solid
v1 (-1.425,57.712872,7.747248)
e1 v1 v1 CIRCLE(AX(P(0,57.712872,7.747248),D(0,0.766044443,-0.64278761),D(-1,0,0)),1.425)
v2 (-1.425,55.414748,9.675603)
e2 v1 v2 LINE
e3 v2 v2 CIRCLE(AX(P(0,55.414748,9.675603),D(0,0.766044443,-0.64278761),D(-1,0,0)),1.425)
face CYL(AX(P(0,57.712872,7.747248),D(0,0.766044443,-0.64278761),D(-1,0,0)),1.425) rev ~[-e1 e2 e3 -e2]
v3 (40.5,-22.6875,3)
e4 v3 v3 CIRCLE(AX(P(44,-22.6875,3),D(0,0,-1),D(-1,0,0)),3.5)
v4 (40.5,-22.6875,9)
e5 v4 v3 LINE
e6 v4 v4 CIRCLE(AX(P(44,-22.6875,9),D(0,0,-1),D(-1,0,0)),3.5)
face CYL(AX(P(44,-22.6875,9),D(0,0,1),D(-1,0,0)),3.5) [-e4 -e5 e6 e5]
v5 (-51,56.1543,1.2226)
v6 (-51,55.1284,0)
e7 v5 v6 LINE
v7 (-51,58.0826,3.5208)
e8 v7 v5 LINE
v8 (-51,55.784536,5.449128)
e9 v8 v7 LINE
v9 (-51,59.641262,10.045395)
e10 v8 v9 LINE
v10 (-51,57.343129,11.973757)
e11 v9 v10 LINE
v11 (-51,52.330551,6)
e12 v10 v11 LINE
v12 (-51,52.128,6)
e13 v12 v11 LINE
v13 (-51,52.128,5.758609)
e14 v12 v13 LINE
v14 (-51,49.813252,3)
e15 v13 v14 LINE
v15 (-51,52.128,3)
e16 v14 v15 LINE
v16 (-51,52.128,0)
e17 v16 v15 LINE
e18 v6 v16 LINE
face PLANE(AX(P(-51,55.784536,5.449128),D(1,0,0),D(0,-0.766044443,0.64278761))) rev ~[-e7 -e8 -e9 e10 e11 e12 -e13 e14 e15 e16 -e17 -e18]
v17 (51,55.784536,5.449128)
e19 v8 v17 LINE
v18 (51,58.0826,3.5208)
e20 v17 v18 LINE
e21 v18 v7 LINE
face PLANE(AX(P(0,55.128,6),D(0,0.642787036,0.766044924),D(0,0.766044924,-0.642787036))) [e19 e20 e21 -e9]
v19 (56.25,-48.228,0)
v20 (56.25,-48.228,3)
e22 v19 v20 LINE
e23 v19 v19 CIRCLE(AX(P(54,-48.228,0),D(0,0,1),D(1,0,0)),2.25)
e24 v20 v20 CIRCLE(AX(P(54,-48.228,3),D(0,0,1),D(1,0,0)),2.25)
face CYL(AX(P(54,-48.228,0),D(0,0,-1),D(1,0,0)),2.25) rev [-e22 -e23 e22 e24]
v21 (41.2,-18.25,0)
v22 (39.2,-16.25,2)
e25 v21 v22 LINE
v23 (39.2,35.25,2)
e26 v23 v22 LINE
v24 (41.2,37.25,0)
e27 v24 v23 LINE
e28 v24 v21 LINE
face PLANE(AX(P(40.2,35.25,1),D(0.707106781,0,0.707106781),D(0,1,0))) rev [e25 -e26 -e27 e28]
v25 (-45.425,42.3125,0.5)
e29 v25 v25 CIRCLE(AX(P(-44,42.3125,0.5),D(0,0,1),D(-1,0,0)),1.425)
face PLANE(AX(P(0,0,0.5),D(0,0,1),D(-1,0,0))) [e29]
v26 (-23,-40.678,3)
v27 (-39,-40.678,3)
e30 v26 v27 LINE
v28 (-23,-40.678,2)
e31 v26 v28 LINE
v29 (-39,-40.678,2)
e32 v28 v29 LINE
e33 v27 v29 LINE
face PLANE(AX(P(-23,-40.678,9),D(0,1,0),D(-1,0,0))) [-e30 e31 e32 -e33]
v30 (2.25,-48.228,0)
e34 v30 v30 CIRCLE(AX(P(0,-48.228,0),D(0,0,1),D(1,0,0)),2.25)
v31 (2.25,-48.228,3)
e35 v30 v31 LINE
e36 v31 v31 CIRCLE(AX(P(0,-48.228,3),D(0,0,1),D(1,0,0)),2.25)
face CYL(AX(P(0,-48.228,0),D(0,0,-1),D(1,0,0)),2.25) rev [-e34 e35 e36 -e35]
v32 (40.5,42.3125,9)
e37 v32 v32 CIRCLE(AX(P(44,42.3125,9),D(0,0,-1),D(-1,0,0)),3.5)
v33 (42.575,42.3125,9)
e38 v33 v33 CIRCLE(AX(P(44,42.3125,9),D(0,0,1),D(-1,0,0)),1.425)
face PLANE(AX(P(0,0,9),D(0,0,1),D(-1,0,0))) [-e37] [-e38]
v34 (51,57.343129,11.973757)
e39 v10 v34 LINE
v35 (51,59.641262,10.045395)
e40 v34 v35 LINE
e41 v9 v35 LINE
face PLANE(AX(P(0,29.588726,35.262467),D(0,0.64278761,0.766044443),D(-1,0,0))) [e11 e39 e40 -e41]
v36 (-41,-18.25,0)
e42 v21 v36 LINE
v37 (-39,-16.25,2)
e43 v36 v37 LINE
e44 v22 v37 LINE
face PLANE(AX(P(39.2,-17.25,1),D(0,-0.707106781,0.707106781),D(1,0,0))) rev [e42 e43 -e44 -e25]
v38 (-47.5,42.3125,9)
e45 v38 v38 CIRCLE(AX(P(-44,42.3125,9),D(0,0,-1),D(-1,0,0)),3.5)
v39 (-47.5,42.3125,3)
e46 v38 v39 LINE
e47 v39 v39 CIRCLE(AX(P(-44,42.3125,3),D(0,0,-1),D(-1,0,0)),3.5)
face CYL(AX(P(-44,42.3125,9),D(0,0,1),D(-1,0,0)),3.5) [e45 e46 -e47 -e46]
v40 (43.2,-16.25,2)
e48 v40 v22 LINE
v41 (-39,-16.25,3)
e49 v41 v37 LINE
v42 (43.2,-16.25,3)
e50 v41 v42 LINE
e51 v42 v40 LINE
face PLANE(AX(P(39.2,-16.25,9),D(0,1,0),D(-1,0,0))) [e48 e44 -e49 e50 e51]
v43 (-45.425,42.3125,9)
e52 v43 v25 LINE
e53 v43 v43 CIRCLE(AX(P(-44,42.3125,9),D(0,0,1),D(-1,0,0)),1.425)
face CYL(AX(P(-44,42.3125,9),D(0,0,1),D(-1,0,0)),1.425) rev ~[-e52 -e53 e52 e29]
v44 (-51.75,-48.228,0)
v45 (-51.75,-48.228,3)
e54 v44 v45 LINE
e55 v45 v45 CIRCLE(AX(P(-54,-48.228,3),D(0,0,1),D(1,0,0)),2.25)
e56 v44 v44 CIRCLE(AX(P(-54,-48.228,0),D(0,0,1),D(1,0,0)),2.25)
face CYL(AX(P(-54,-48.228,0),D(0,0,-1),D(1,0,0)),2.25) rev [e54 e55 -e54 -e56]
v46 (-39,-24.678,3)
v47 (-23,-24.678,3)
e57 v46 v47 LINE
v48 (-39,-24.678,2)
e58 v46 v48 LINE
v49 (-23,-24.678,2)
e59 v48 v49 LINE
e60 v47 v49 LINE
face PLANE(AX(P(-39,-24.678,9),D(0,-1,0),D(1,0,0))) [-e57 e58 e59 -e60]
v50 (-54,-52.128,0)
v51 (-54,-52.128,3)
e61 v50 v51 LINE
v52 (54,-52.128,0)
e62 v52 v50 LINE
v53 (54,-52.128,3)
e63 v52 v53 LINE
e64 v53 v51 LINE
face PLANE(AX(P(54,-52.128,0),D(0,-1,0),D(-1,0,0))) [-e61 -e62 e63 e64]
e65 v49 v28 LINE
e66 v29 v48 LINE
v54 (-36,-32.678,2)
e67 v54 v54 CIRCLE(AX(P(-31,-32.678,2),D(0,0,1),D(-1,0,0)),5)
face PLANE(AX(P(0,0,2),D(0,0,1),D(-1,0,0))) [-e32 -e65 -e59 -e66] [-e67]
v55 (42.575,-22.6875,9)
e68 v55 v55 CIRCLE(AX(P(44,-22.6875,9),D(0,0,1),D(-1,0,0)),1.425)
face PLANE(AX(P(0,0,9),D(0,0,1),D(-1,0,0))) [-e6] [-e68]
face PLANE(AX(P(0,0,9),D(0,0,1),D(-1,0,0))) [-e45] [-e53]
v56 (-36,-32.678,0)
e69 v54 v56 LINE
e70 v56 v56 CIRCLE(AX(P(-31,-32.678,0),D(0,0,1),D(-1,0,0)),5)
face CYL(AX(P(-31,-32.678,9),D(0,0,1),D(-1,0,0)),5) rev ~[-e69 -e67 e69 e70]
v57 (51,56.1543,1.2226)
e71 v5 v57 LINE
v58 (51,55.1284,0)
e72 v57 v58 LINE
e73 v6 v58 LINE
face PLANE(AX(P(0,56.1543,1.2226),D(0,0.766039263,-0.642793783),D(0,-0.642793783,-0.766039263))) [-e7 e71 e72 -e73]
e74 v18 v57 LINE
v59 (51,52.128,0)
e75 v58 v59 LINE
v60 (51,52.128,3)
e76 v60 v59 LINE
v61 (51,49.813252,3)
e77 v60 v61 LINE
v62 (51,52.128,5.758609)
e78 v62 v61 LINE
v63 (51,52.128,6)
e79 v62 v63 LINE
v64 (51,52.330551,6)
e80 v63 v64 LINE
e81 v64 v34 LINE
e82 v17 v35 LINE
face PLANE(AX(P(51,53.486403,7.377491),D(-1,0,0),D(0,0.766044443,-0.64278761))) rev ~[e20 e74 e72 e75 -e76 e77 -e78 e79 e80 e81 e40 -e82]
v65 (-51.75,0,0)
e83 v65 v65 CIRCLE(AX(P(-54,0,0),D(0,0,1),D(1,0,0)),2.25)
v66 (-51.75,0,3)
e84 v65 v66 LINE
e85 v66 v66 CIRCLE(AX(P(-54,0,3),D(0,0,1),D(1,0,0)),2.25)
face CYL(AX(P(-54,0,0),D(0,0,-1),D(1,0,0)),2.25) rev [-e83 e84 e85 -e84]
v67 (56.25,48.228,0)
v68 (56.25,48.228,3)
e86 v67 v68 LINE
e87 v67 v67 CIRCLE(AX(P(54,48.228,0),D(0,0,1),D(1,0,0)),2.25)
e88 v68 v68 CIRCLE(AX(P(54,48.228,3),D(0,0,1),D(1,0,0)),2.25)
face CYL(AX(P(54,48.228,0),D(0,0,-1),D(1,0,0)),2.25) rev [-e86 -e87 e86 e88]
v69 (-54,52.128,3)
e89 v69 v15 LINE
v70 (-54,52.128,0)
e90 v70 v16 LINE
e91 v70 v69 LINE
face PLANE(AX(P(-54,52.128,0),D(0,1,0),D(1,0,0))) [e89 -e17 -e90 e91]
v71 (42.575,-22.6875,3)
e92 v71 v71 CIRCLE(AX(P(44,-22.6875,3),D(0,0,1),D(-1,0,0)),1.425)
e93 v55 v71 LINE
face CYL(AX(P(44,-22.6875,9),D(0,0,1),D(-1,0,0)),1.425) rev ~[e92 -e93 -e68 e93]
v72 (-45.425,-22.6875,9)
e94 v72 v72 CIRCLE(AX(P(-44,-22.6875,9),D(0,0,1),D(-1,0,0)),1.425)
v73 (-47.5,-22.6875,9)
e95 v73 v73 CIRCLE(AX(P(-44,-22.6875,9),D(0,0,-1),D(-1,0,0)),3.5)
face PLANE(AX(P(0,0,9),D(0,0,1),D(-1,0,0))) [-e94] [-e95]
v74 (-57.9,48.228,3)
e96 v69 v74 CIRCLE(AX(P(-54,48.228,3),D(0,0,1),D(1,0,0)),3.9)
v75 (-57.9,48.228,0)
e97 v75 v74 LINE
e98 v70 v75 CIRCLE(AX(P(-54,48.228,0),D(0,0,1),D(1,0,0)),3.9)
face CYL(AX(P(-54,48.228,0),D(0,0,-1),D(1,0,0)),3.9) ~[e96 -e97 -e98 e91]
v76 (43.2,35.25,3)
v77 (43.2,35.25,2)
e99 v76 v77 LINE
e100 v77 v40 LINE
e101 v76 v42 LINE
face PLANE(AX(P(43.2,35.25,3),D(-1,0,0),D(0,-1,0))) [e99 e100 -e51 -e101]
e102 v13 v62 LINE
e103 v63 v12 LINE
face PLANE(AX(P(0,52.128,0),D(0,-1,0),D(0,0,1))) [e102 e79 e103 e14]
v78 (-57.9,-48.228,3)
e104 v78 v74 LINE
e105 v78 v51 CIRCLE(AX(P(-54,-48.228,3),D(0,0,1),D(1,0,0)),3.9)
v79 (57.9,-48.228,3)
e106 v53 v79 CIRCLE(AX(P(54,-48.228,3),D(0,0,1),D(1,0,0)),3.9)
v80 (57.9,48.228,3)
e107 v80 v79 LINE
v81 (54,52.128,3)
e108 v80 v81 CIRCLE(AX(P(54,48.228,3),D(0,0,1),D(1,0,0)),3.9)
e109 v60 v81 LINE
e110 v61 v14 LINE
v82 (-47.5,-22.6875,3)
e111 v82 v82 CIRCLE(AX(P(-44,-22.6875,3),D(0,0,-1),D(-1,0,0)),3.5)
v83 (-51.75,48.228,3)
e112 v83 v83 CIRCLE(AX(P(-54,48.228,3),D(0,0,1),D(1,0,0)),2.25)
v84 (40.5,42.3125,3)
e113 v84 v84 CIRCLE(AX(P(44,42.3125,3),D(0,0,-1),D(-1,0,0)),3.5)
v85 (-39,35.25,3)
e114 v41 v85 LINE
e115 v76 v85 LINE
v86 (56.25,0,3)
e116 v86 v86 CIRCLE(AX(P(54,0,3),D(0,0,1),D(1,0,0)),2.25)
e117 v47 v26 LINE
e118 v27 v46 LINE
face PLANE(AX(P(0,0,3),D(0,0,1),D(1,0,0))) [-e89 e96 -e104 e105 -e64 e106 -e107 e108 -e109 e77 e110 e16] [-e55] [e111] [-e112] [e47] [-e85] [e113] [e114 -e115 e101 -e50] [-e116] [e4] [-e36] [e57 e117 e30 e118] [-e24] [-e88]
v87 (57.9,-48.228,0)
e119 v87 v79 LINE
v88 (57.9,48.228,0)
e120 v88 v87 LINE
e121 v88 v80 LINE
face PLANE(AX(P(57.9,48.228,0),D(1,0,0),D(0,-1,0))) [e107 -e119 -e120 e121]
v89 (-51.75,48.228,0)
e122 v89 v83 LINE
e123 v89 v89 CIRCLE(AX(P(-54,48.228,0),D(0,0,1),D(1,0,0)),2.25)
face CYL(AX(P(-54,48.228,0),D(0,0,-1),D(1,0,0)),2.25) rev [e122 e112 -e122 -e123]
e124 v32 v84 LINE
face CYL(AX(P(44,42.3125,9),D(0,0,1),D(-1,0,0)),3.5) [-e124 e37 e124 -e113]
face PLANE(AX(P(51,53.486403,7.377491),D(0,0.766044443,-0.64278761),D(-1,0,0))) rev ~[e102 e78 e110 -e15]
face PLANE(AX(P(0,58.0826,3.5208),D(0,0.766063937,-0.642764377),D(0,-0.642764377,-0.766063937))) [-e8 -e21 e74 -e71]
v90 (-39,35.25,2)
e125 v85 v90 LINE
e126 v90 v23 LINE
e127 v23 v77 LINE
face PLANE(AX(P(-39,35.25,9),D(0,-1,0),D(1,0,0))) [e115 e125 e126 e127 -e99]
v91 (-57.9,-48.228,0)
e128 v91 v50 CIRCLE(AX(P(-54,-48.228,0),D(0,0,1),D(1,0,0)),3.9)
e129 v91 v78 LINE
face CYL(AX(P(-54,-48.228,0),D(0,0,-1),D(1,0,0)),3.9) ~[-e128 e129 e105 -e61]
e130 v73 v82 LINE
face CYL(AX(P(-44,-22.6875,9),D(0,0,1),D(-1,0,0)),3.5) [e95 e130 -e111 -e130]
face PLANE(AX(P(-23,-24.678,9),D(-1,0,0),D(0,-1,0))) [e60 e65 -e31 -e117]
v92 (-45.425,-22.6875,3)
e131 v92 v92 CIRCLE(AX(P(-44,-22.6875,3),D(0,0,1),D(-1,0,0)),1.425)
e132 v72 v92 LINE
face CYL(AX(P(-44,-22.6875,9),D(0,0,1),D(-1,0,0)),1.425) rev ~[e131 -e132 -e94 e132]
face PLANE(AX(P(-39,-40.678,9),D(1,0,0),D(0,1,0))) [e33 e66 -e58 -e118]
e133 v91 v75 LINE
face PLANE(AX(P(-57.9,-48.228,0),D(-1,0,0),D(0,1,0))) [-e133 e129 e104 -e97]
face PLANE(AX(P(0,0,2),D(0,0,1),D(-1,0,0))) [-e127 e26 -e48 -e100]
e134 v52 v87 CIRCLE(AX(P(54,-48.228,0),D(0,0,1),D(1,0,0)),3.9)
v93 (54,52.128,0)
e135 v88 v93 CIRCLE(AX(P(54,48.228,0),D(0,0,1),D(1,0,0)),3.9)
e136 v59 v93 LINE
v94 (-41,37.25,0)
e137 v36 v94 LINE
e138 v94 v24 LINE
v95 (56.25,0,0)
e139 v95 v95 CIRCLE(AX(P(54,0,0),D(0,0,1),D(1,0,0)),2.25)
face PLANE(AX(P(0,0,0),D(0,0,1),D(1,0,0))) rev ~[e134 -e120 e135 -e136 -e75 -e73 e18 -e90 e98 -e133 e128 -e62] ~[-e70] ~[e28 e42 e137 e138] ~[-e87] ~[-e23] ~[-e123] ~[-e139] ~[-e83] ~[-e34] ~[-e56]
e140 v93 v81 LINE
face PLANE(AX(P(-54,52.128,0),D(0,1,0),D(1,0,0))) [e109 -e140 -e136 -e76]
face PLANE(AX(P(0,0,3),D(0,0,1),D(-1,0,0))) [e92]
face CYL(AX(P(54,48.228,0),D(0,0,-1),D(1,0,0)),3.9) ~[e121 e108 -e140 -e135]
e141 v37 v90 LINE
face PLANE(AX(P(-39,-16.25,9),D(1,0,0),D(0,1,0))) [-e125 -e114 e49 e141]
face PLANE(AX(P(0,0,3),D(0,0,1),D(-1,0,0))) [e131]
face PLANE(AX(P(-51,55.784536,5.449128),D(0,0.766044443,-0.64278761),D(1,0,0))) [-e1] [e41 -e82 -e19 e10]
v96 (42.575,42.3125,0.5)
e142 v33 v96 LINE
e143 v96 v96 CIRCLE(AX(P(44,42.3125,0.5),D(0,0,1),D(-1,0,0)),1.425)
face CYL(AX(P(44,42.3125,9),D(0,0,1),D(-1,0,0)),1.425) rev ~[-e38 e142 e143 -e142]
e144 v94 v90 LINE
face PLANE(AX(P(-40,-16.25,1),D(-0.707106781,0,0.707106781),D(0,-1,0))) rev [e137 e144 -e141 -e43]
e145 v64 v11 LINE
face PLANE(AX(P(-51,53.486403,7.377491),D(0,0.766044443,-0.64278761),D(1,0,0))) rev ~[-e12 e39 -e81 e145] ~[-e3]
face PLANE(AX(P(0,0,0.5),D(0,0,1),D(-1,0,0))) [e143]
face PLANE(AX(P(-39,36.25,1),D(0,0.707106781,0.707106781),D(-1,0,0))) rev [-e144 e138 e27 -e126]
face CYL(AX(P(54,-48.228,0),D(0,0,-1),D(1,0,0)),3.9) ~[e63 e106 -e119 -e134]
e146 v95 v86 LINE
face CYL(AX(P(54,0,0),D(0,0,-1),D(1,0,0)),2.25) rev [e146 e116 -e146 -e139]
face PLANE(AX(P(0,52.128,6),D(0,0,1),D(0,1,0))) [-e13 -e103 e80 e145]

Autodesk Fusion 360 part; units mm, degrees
sketch "Sketch1" plane through (0, 0, 0) normal (0, 0, 1) x (1, 0, 0)
  line L0 (-57.9, 52.128) -> (57.9, 52.128)
  line L1 (57.9, 52.128) -> (57.9, -52.128)
  line L2 (57.9, -52.128) -> (-57.9, -52.128)
  line L3 (-57.9, -52.128) -> (-57.9, 52.128)
  circle A0 centre (-54, 48.228) radius 3.9
  circle A1 centre (-54, 0) radius 2.25
  circle A2 centre (-54, -48.228) radius 3.9
  circle A3 centre (0, -48.228) radius 2.25
  circle A4 centre (54, -48.228) radius 3.9
  circle A5 centre (54, 0) radius 2.25
  circle A6 centre (54, 48.228) radius 3.9
  circle A7 centre (-54, 48.228) radius 2.25
  circle A8 centre (-54, -48.228) radius 2.25
  circle A9 centre (54, -48.228) radius 2.25
  circle A10 centre (54, 48.228) radius 2.25
  point P0 (0, 52.128)
  point P1 (-57.9, 0)
  dimension "d1" = 115.8
  dimension "d2" = 104.256
  dimension "d3" = 7.8
  dimension "d4" = 7.8
  dimension "d5" = 7.8
  dimension "d6" = 7.8
  dimension "d7" = 4.5
  dimension "d8" = 4.5
  dimension "d9" = 4.5
  dimension "d10" = 4.5
  dimension "d11" = 4.5
  dimension "d12" = 4.5
  dimension "d13" = 4.5
  dimension "d14" = 48.128
  dimension "d15" = 96.256
  dimension "d16" = 53.9
  dimension "d17" = 107.8
extrude "Extrude1" add sketch "Sketch1" along normal blind 3 contours L0 L1 L2 L3 A0 A2 A4 A6 | A0 | A6 | A2 | A4
sketch "Sketch2" plane through (0, 0, 0) normal (1, 0, 0) x (0, 1, 0)
  line L0 (-2.25, 3) -> (2.25, 3)
  line L1 (-50.478, 3) -> (-45.978, 3)
  line L2 (-2.25, 3) -> (2.25, 3)
  line L3 (45.978, 3) -> (50.478, 3)
  line L4 (-50.478, 3) -> (-45.978, 3)
  line L5 (45.978, 3) -> (50.478, 3)
  line L6 (-50.478, 3) -> (-45.978, 3)
  line L7 (-48.228, 3) -> (-52.128, 3)
  line L8 (-48.228, 3) -> (48.228, 3)
  line L9 (52.128, 3) -> (48.228, 3)
  line L10 (52.128, 3) -> (48.228, 3)
  line L11 (48.228, 3) -> (-48.228, 3)
  line L12 (-48.228, 3) -> (-52.128, 3)
  line L13 (52.128, 0) -> (52.128, 3)
  line L14 (52.128, 3) -> (52.128, 0)
  line L15 (-2.25, 0) -> (2.25, 0)
  line L16 (-50.478, 0) -> (-45.978, 0)
  line L17 (-2.25, 0) -> (2.25, 0)
  line L18 (45.978, 0) -> (50.478, 0)
  line L19 (-50.478, 0) -> (-45.978, 0)
  line L20 (45.978, 0) -> (50.478, 0)
  line L21 (-50.478, 0) -> (-45.978, 0)
  line L22 (-48.228, 0) -> (-52.128, 0)
  line L23 (-48.228, 0) -> (-52.128, 0)
  line L24 (-48.228, 0) -> (48.228, 0)
  line L25 (52.128, 0) -> (48.228, 0)
  line L26 (52.128, 0) -> (48.228, 0)
  line L27 (48.228, 0) -> (-48.228, 0)
  line L28 (52.128, 3) -> (52.128, 6)
  line L29 (52.128, 6) -> (55.128, 6)
  line L30 (55.128, 6) -> (58.0826, 3.5208)
  line L31 (58.0826, 3.5208) -> (56.1543, 1.2226)
  line L32 (56.1543, 1.2226) -> (62.2826, -3.9197)
  line L33 (62.2826, -3.9197) -> (61.2567, -5.1423)
  line L34 (61.2567, -5.1423) -> (55.1284, 0)
  line L35 (56.1543, 1.2226) -> (55.1284, 0)
  line L36 (55.1284, 0) -> (52.128, 0)
  dimension "d20" = 3
  dimension "d21" = 3
  dimension "d22" = 140
  dimension "d24" = 3.857
  dimension "d26" = 3
  dimension "d27" = 8
  dimension "d28" = 1.596
extrude "Extrude2" add sketch "Sketch2" along normal mid plane 102 contours L13 L14 L28 L29 L30 L31 L35 L36
sketch "Sketch1 (2)" plane through (0, 25.732, 30.6662) normal (0, 0.642788, 0.766044) x (-1, 0, 0)
  line L0 (51, -38.3738) -> (-51, -38.3738)
  line L1 (-51, -38.3738) -> (-51, -42.2308)
  line L2 (-51, -42.2308) -> (51, -42.2308)
  line L3 (51, -42.2308) -> (51, -38.3738)
  line L4 (51, -39.2308) -> (-51, -39.2308)
  line L5 (-51, -39.2308) -> (-51, -36.2308)
  line L6 (-51, -36.2308) -> (51, -36.2308)
  line L7 (51, -36.2308) -> (51, -39.2308)
  dimension "d67" = 3
  dimension "d68" = 3
extrude "Extrude4" add sketch "Sketch1 (2)" against normal blind 7 contours L0 L1 L3 L4 L5 L7 | L0 L5 L6 L7
sketch "Sketch2 (2)" plane through (0, 25.732, 30.6662) normal (0, 0.642788, 0.766044) x (-1, 0, 0)
  line L0 (-51, -36.2308) -> (-51, -42.2308)
  line L1 (-51, -42.2308) -> (51, -42.2308)
  line L2 (51, -42.2308) -> (51, -36.2308)
  line L3 (51, -36.2308) -> (-51, -36.2308)
  line L4 (51, -39.2308) -> (-51, -39.2308)
  line L5 (-51, -39.2308) -> (-51, -36.2308)
  line L6 (-51, -36.2308) -> (51, -36.2308)
  line L7 (51, -36.2308) -> (51, -39.2308)
  dimension "d71" = 3
extrude "Extrude5" add sketch "Sketch2 (2)" along normal blind 6 contours L0 L2 L3 L4 L5 L6 L7
sketch "Sketch3" plane through (0, 30.0525, -25.2171) normal (0, 0.766044, -0.642788) x (-1, 0, 0)
  line L0 (-51, 40.0319) -> (51, 40.0319)
  line L1 (51, 40.0319) -> (51, 46.0319)
  line L2 (51, 46.0319) -> (-51, 46.0319)
  line L3 (-51, 46.0319) -> (-51, 40.0319)
  circle A0 centre (0, 43.0319) radius 1.425
  dimension "d74" = 2.85
  dimension "d75" = 3
extrude "Extrude6" cut sketch "Sketch3" against normal blind 4 contours A0
sketch "Sketch5" plane through (0, 0, 3) normal (0, 0, 1) x (-1, 0, 0)
  line L0 (-51, -52.128) -> (-51, -49.8132)
  line L1 (-51, -49.8132) -> (51, -49.8132)
  line L2 (51, -49.8132) -> (51, -52.128)
  line L3 (51, -52.128) -> (54, -52.128)
  arc A0 (54, -52.128) -> (57.9, -48.228) centre (54, -48.228) ccw
  line L4 (57.9, -48.228) -> (57.9, 48.228)
  arc A1 (57.9, 48.228) -> (54, 52.128) centre (54, 48.228) ccw
  line L5 (54, 52.128) -> (-54, 52.128)
  arc A2 (-54, 52.128) -> (-57.9, 48.228) centre (-54, 48.228) ccw
  line L6 (-57.9, 48.228) -> (-57.9, -48.228)
  arc A3 (-57.9, -48.228) -> (-54, -52.128) centre (-54, -48.228) ccw
  line L7 (-54, -52.128) -> (-51, -52.128)
  circle A4 centre (-54, 48.228) radius 2.25
  circle A5 centre (-54, -48.228) radius 2.25
  circle A6 centre (54, 48.228) radius 2.25
  circle A7 centre (54, -48.228) radius 2.25
  circle A8 centre (54, 0) radius 2.25
  circle A9 centre (0, 48.228) radius 2.25
  circle A10 centre (-54, 0) radius 2.25
  line L8 (49.9, -44.128) -> (-49.9, -44.128)
  line L9 (-49.9, -44.128) -> (-49.9, 44.128)
  line L10 (-49.9, 44.128) -> (49.9, 44.128)
  line L11 (49.9, 44.128) -> (49.9, -44.128)
  dimension "d84" = 8
  dimension "d85" = 8
  dimension "d86" = 8
  dimension "d87" = 8
extrude "Extrude7" add sketch "Sketch5" along normal blind 6 contours L8 L9 L10 L11
fillet "Fillet1" radius 3 4 edges at (-49.9, -44.128, 6) (-49.9, 44.128, 6) (49.9, -44.128, 6) (49.9, 44.128, 6)
sketch "Sketch4" plane through (0, 0, 9) normal (0, 0, 1) x (-1, 0, 0)
  line L0 (-51, -52.128) -> (-51, -49.8132)
  line L1 (-51, -49.8132) -> (51, -49.8132)
  line L2 (51, -49.8132) -> (51, -52.128)
  line L3 (51, -52.128) -> (54, -52.128)
  arc A0 (54, -52.128) -> (57.9, -48.228) centre (54, -48.228) ccw
  line L4 (57.9, -48.228) -> (57.9, 48.228)
  arc A1 (57.9, 48.228) -> (54, 52.128) centre (54, 48.228) ccw
  line L5 (54, 52.128) -> (-54, 52.128)
  arc A2 (-54, 52.128) -> (-57.9, 48.228) centre (-54, 48.228) ccw
  line L6 (-57.9, 48.228) -> (-57.9, -48.228)
  arc A3 (-57.9, -48.228) -> (-54, -52.128) centre (-54, -48.228) ccw
  line L7 (-54, -52.128) -> (-51, -52.128)
  circle A4 centre (-54, 48.228) radius 2.25
  circle A5 centre (-54, -48.228) radius 2.25
  circle A6 centre (54, 48.228) radius 2.25
  circle A7 centre (54, -48.228) radius 2.25
  circle A8 centre (54, 0) radius 2.25
  circle A9 centre (0, 48.228) radius 2.25
  circle A10 centre (-54, 0) radius 2.25
  line L8 (0, -78.513) -> (0, 73.0042) construction
  line L9 (78.1431, -3) -> (75.8671, -3)
  line L10 (75.8671, -3) -> (-80.0089, -3) construction
  line L11 (47.5, -50.3125) -> (-47.5, -50.3125)
  line L12 (-47.5, -50.3125) -> (-47.5, 44.3125)
  line L13 (-47.5, 44.3125) -> (47.5, 44.3125)
  line L14 (47.5, 44.3125) -> (47.5, -50.3125)
  line L15 (39, -35.25) -> (-39.2, -35.25)
  line L16 (-39.2, -35.25) -> (-39.2, 16.25)
  line L17 (-39.2, 16.25) -> (39, 16.25)
  line L18 (39, 16.25) -> (39, -35.25)
  line L19 (49.9, 41.128) -> (49.9, -41.128)
  arc A11 (46.9, -44.128) -> (49.9, -41.128) centre (46.9, -41.128) ccw
  line L20 (46.9, -44.128) -> (-46.9, -44.128)
  arc A12 (-49.9, -41.128) -> (-46.9, -44.128) centre (-46.9, -41.128) ccw
  line L21 (-49.9, -41.128) -> (-49.9, 41.128)
  arc A13 (-46.9, 44.128) -> (-49.9, 41.128) centre (-46.9, 41.128) ccw
  line L22 (-46.9, 44.128) -> (46.9, 44.128)
  arc A14 (49.9, 41.128) -> (46.9, 44.128) centre (46.9, 41.128) ccw
  arc A15 (-49.9, -41.128) -> (-46.9, -44.128) centre (-46.9, -41.128) ccw
  line L23 (-46.9, -44.128) -> (46.9, -44.128)
  arc A16 (46.9, -44.128) -> (49.9, -41.128) centre (46.9, -41.128) ccw
  line L24 (49.9, -41.128) -> (49.9, 41.128)
  arc A17 (49.9, 41.128) -> (46.9, 44.128) centre (46.9, 41.128) ccw
  line L25 (46.9, 44.128) -> (-46.9, 44.128)
  arc A18 (-46.9, 44.128) -> (-49.9, 41.128) centre (-46.9, 41.128) ccw
  line L26 (-49.9, 41.128) -> (-49.9, -41.128)
  circle A19 centre (44, -42.3125) radius 1.425
  circle A20 centre (44, -42.3125) radius 2.5 construction
  circle A21 centre (44, -42.3125) radius 3.5
  circle A22 centre (-44, -42.3125) radius 1.425
  circle A23 centre (-44, -42.3125) radius 2.5 construction
  circle A24 centre (-44, -42.3125) radius 3.5
  line L27 (40.5, -50.3125) -> (40.5, -42.3125)
  line L28 (44, -38.8125) -> (47.5, -38.8125)
  line L29 (-40.5, -42.3125) -> (-40.5, -45.727)
  line L30 (-40.5, -45.727) -> (-40.5, -50.3125)
  line L31 (-44, -38.8125) -> (-44.8157, -38.8125)
  line L32 (-44.8157, -38.8125) -> (-47.5, -38.8125)
  circle A25 centre (44, 22.6875) radius 1.425
  circle A26 centre (44, 22.6875) radius 2.5 construction
  circle A27 centre (44, 22.6875) radius 3.5
  circle A28 centre (-44, 22.6875) radius 1.425
  circle A29 centre (-44, 22.6875) radius 2.5 construction
  circle A30 centre (-44, 22.6875) radius 3.5
  line L33 (41.5251, 25.1624) -> (47.5, 31.1372)
  line L34 (41.5251, 25.1624) -> (50.2544, 25.1624) construction
  line L35 (41.5251, 20.2126) -> (47.5, 14.2378)
  line L36 (41.5251, 20.2126) -> (51.4571, 20.2126) construction
  line L37 (-41.5251, 25.1624) -> (-47.5, 31.1372)
  line L38 (-41.5251, 20.2126) -> (-47.5, 14.2378)
  circle A31 centre (31, 32.678) radius 5
  line L39 (39, 24.678) -> (23, 24.678)
  line L40 (23, 24.678) -> (23, 40.678)
  line L41 (23, 40.678) -> (39, 40.678)
  line L42 (39, 40.678) -> (39, 24.678)
  line L43 (39, 24.678) -> (23, 40.678) construction
  point P0 (0, -50.3125)
  dimension "d78" = 95
  dimension "d79" = 94.625
  dimension "d80" = 39
  dimension "d81" = 78.2
  dimension "d82" = 19.25
  dimension "d83" = 51.5
  dimension "d92" = 47.3125
  dimension "d93" = 47.3125
  dimension "d94" = 14.0625
  dimension "d95" = 3
  dimension "d96" = 2.85
  dimension "d97" = 5
  dimension "d98" = 7
  dimension "d99" = 8
  dimension "d100" = 2.85
  dimension "d101" = 5
  dimension "d103" = 7
  dimension "d104" = 2.85
  dimension "d105" = 5
  dimension "d106" = 7
  dimension "d107" = 2.85
  dimension "d108" = 5
  dimension "d109" = 7
  dimension "d110" = 65
  dimension "d111" = 45
  dimension "d113" = 45
  dimension "d115" = 45
  dimension "d116" = 45
  dimension "d117" = 10
  dimension "d118" = 16
  dimension "d119" = 16
  dimension "d120" = 16.5
  dimension "d121" = 11.45
extrude "Extrude9" cut sketch "Sketch4" against normal blind 8.5 contours A19 | A22
extrude "Extrude8" add sketch "Sketch4" against normal blind 8 contours L20 A12 A15 L23 A24 | A11 L20 L23 A16 A21 picked at (-43.0708, -44.2671) picked at (43.0708, -44.2671)
extrude "Extrude10" cut sketch "Sketch4" against normal blind 10 contours L15 L16 L17 L18
extrude "Extrude11" cut sketch "Sketch4" against normal up to surface (6 mm away) contours A25 | A28
extrude "Extrude13" cut sketch "Sketch4" against normal blind 7 contours L39 L40 L41 L42
extrude "Extrude14" cut sketch "Sketch4" against normal through all contours A31
extrude "Extrude15" cut sketch "Sketch4" against normal blind 6 contours L12 A12 L21 A13 A15 A18 L26 | L12 A12 A15 A24 | L12 A24 L31 L32 | L20 L23 A21 L27 | L12 L14 L20 A13 L22 A14 L23 A17 L25 A18 A21 A24 L27 L28 L29 L31 L32 A27 A30 L33 L35 L37 L38 | L20 L23 A24 L29 | L14 A11 A16 A21 | L14 L19 A11 A14 A16 L24 A17 | L12 A30 L38 | L14 A21 L28 | L12 A30 L37 | L14 A27 L35 | L14 A27 L33
chamfer "Chamfer1" distance 2 angle 45 4 edges at (39.2, 9.5, 0) (0.1, 35.25, 0) (-39, 9.5, 0) (0.1, -16.25, 0)
sketch "Sketch6" plane through (0, 0, 3) normal (0, 0, 1) x (-1, 0, 0)
  line L0 (-51, -52.128) -> (-51, -49.8132)
  line L1 (-51, -49.8132) -> (51, -49.8132)
  line L2 (51, -49.8132) -> (51, -52.128)
  line L3 (51, -52.128) -> (54, -52.128)
  arc A0 (54, -52.128) -> (57.9, -48.228) centre (54, -48.228) ccw
  line L4 (57.9, -48.228) -> (57.9, 48.228)
  arc A1 (57.9, 48.228) -> (54, 52.128) centre (54, 48.228) ccw
  line L5 (54, 52.128) -> (-54, 52.128)
  arc A2 (-54, 52.128) -> (-57.9, 48.228) centre (-54, 48.228) ccw
  line L6 (-57.9, 48.228) -> (-57.9, -48.228)
  arc A3 (-57.9, -48.228) -> (-54, -52.128) centre (-54, -48.228) ccw
  circle A4 centre (-54, 48.228) radius 2.25
  circle A5 centre (-54, -48.228) radius 2.25
  circle A6 centre (54, 48.228) radius 2.25
  circle A7 centre (54, -48.228) radius 2.25
  circle A8 centre (54, 0) radius 2.25
  circle A9 centre (0, 48.228) radius 2.25
  circle A10 centre (-54, 0) radius 2.25
  line L7 (-39.2, -35.25) -> (-43.2, -35.25)
  line L8 (-43.2, -35.25) -> (-43.2, 16.25)
  line L9 (-43.2, 16.25) -> (-39.2, 16.25)
  line L10 (-39.2, 16.25) -> (-39.2, -35.25)
  circle A11 centre (-44, -42.3125) radius 3.5
  circle A12 centre (-44, 22.6875) radius 3.5
  line L11 (-39.2, 16.25) -> (39, 16.25)
  line L12 (39, 16.25) -> (39, -35.25)
  line L13 (39, -35.25) -> (-39.2, -35.25)
  line L14 (-39.2, -35.25) -> (-39.2, 16.25)
  circle A13 centre (44, 22.6875) radius 3.5
  line L15 (23, 40.678) -> (39, 40.678)
  line L16 (39, 40.678) -> (39, 24.678)
  line L17 (39, 24.678) -> (23, 24.678)
  line L18 (23, 24.678) -> (23, 40.678)
  circle A14 centre (44, -42.3125) radius 3.5
  line L19 (-54, -52.128) -> (-51, -52.128)
  dimension "d139" = 4
extrude "Extrude16" cut sketch "Sketch6" against normal blind 1 contours L7 L8 L9 L10 L14
equation "d4 = d3"
equation "d5 = d3"
equation "d6 = d3"
equation "d8 = d7"
equation "d9 = d7"
equation "d10 = d7"
equation "d11 = d7"
equation "d12 = d7"
equation "d13 = d7"
equation "d119 = d118"
